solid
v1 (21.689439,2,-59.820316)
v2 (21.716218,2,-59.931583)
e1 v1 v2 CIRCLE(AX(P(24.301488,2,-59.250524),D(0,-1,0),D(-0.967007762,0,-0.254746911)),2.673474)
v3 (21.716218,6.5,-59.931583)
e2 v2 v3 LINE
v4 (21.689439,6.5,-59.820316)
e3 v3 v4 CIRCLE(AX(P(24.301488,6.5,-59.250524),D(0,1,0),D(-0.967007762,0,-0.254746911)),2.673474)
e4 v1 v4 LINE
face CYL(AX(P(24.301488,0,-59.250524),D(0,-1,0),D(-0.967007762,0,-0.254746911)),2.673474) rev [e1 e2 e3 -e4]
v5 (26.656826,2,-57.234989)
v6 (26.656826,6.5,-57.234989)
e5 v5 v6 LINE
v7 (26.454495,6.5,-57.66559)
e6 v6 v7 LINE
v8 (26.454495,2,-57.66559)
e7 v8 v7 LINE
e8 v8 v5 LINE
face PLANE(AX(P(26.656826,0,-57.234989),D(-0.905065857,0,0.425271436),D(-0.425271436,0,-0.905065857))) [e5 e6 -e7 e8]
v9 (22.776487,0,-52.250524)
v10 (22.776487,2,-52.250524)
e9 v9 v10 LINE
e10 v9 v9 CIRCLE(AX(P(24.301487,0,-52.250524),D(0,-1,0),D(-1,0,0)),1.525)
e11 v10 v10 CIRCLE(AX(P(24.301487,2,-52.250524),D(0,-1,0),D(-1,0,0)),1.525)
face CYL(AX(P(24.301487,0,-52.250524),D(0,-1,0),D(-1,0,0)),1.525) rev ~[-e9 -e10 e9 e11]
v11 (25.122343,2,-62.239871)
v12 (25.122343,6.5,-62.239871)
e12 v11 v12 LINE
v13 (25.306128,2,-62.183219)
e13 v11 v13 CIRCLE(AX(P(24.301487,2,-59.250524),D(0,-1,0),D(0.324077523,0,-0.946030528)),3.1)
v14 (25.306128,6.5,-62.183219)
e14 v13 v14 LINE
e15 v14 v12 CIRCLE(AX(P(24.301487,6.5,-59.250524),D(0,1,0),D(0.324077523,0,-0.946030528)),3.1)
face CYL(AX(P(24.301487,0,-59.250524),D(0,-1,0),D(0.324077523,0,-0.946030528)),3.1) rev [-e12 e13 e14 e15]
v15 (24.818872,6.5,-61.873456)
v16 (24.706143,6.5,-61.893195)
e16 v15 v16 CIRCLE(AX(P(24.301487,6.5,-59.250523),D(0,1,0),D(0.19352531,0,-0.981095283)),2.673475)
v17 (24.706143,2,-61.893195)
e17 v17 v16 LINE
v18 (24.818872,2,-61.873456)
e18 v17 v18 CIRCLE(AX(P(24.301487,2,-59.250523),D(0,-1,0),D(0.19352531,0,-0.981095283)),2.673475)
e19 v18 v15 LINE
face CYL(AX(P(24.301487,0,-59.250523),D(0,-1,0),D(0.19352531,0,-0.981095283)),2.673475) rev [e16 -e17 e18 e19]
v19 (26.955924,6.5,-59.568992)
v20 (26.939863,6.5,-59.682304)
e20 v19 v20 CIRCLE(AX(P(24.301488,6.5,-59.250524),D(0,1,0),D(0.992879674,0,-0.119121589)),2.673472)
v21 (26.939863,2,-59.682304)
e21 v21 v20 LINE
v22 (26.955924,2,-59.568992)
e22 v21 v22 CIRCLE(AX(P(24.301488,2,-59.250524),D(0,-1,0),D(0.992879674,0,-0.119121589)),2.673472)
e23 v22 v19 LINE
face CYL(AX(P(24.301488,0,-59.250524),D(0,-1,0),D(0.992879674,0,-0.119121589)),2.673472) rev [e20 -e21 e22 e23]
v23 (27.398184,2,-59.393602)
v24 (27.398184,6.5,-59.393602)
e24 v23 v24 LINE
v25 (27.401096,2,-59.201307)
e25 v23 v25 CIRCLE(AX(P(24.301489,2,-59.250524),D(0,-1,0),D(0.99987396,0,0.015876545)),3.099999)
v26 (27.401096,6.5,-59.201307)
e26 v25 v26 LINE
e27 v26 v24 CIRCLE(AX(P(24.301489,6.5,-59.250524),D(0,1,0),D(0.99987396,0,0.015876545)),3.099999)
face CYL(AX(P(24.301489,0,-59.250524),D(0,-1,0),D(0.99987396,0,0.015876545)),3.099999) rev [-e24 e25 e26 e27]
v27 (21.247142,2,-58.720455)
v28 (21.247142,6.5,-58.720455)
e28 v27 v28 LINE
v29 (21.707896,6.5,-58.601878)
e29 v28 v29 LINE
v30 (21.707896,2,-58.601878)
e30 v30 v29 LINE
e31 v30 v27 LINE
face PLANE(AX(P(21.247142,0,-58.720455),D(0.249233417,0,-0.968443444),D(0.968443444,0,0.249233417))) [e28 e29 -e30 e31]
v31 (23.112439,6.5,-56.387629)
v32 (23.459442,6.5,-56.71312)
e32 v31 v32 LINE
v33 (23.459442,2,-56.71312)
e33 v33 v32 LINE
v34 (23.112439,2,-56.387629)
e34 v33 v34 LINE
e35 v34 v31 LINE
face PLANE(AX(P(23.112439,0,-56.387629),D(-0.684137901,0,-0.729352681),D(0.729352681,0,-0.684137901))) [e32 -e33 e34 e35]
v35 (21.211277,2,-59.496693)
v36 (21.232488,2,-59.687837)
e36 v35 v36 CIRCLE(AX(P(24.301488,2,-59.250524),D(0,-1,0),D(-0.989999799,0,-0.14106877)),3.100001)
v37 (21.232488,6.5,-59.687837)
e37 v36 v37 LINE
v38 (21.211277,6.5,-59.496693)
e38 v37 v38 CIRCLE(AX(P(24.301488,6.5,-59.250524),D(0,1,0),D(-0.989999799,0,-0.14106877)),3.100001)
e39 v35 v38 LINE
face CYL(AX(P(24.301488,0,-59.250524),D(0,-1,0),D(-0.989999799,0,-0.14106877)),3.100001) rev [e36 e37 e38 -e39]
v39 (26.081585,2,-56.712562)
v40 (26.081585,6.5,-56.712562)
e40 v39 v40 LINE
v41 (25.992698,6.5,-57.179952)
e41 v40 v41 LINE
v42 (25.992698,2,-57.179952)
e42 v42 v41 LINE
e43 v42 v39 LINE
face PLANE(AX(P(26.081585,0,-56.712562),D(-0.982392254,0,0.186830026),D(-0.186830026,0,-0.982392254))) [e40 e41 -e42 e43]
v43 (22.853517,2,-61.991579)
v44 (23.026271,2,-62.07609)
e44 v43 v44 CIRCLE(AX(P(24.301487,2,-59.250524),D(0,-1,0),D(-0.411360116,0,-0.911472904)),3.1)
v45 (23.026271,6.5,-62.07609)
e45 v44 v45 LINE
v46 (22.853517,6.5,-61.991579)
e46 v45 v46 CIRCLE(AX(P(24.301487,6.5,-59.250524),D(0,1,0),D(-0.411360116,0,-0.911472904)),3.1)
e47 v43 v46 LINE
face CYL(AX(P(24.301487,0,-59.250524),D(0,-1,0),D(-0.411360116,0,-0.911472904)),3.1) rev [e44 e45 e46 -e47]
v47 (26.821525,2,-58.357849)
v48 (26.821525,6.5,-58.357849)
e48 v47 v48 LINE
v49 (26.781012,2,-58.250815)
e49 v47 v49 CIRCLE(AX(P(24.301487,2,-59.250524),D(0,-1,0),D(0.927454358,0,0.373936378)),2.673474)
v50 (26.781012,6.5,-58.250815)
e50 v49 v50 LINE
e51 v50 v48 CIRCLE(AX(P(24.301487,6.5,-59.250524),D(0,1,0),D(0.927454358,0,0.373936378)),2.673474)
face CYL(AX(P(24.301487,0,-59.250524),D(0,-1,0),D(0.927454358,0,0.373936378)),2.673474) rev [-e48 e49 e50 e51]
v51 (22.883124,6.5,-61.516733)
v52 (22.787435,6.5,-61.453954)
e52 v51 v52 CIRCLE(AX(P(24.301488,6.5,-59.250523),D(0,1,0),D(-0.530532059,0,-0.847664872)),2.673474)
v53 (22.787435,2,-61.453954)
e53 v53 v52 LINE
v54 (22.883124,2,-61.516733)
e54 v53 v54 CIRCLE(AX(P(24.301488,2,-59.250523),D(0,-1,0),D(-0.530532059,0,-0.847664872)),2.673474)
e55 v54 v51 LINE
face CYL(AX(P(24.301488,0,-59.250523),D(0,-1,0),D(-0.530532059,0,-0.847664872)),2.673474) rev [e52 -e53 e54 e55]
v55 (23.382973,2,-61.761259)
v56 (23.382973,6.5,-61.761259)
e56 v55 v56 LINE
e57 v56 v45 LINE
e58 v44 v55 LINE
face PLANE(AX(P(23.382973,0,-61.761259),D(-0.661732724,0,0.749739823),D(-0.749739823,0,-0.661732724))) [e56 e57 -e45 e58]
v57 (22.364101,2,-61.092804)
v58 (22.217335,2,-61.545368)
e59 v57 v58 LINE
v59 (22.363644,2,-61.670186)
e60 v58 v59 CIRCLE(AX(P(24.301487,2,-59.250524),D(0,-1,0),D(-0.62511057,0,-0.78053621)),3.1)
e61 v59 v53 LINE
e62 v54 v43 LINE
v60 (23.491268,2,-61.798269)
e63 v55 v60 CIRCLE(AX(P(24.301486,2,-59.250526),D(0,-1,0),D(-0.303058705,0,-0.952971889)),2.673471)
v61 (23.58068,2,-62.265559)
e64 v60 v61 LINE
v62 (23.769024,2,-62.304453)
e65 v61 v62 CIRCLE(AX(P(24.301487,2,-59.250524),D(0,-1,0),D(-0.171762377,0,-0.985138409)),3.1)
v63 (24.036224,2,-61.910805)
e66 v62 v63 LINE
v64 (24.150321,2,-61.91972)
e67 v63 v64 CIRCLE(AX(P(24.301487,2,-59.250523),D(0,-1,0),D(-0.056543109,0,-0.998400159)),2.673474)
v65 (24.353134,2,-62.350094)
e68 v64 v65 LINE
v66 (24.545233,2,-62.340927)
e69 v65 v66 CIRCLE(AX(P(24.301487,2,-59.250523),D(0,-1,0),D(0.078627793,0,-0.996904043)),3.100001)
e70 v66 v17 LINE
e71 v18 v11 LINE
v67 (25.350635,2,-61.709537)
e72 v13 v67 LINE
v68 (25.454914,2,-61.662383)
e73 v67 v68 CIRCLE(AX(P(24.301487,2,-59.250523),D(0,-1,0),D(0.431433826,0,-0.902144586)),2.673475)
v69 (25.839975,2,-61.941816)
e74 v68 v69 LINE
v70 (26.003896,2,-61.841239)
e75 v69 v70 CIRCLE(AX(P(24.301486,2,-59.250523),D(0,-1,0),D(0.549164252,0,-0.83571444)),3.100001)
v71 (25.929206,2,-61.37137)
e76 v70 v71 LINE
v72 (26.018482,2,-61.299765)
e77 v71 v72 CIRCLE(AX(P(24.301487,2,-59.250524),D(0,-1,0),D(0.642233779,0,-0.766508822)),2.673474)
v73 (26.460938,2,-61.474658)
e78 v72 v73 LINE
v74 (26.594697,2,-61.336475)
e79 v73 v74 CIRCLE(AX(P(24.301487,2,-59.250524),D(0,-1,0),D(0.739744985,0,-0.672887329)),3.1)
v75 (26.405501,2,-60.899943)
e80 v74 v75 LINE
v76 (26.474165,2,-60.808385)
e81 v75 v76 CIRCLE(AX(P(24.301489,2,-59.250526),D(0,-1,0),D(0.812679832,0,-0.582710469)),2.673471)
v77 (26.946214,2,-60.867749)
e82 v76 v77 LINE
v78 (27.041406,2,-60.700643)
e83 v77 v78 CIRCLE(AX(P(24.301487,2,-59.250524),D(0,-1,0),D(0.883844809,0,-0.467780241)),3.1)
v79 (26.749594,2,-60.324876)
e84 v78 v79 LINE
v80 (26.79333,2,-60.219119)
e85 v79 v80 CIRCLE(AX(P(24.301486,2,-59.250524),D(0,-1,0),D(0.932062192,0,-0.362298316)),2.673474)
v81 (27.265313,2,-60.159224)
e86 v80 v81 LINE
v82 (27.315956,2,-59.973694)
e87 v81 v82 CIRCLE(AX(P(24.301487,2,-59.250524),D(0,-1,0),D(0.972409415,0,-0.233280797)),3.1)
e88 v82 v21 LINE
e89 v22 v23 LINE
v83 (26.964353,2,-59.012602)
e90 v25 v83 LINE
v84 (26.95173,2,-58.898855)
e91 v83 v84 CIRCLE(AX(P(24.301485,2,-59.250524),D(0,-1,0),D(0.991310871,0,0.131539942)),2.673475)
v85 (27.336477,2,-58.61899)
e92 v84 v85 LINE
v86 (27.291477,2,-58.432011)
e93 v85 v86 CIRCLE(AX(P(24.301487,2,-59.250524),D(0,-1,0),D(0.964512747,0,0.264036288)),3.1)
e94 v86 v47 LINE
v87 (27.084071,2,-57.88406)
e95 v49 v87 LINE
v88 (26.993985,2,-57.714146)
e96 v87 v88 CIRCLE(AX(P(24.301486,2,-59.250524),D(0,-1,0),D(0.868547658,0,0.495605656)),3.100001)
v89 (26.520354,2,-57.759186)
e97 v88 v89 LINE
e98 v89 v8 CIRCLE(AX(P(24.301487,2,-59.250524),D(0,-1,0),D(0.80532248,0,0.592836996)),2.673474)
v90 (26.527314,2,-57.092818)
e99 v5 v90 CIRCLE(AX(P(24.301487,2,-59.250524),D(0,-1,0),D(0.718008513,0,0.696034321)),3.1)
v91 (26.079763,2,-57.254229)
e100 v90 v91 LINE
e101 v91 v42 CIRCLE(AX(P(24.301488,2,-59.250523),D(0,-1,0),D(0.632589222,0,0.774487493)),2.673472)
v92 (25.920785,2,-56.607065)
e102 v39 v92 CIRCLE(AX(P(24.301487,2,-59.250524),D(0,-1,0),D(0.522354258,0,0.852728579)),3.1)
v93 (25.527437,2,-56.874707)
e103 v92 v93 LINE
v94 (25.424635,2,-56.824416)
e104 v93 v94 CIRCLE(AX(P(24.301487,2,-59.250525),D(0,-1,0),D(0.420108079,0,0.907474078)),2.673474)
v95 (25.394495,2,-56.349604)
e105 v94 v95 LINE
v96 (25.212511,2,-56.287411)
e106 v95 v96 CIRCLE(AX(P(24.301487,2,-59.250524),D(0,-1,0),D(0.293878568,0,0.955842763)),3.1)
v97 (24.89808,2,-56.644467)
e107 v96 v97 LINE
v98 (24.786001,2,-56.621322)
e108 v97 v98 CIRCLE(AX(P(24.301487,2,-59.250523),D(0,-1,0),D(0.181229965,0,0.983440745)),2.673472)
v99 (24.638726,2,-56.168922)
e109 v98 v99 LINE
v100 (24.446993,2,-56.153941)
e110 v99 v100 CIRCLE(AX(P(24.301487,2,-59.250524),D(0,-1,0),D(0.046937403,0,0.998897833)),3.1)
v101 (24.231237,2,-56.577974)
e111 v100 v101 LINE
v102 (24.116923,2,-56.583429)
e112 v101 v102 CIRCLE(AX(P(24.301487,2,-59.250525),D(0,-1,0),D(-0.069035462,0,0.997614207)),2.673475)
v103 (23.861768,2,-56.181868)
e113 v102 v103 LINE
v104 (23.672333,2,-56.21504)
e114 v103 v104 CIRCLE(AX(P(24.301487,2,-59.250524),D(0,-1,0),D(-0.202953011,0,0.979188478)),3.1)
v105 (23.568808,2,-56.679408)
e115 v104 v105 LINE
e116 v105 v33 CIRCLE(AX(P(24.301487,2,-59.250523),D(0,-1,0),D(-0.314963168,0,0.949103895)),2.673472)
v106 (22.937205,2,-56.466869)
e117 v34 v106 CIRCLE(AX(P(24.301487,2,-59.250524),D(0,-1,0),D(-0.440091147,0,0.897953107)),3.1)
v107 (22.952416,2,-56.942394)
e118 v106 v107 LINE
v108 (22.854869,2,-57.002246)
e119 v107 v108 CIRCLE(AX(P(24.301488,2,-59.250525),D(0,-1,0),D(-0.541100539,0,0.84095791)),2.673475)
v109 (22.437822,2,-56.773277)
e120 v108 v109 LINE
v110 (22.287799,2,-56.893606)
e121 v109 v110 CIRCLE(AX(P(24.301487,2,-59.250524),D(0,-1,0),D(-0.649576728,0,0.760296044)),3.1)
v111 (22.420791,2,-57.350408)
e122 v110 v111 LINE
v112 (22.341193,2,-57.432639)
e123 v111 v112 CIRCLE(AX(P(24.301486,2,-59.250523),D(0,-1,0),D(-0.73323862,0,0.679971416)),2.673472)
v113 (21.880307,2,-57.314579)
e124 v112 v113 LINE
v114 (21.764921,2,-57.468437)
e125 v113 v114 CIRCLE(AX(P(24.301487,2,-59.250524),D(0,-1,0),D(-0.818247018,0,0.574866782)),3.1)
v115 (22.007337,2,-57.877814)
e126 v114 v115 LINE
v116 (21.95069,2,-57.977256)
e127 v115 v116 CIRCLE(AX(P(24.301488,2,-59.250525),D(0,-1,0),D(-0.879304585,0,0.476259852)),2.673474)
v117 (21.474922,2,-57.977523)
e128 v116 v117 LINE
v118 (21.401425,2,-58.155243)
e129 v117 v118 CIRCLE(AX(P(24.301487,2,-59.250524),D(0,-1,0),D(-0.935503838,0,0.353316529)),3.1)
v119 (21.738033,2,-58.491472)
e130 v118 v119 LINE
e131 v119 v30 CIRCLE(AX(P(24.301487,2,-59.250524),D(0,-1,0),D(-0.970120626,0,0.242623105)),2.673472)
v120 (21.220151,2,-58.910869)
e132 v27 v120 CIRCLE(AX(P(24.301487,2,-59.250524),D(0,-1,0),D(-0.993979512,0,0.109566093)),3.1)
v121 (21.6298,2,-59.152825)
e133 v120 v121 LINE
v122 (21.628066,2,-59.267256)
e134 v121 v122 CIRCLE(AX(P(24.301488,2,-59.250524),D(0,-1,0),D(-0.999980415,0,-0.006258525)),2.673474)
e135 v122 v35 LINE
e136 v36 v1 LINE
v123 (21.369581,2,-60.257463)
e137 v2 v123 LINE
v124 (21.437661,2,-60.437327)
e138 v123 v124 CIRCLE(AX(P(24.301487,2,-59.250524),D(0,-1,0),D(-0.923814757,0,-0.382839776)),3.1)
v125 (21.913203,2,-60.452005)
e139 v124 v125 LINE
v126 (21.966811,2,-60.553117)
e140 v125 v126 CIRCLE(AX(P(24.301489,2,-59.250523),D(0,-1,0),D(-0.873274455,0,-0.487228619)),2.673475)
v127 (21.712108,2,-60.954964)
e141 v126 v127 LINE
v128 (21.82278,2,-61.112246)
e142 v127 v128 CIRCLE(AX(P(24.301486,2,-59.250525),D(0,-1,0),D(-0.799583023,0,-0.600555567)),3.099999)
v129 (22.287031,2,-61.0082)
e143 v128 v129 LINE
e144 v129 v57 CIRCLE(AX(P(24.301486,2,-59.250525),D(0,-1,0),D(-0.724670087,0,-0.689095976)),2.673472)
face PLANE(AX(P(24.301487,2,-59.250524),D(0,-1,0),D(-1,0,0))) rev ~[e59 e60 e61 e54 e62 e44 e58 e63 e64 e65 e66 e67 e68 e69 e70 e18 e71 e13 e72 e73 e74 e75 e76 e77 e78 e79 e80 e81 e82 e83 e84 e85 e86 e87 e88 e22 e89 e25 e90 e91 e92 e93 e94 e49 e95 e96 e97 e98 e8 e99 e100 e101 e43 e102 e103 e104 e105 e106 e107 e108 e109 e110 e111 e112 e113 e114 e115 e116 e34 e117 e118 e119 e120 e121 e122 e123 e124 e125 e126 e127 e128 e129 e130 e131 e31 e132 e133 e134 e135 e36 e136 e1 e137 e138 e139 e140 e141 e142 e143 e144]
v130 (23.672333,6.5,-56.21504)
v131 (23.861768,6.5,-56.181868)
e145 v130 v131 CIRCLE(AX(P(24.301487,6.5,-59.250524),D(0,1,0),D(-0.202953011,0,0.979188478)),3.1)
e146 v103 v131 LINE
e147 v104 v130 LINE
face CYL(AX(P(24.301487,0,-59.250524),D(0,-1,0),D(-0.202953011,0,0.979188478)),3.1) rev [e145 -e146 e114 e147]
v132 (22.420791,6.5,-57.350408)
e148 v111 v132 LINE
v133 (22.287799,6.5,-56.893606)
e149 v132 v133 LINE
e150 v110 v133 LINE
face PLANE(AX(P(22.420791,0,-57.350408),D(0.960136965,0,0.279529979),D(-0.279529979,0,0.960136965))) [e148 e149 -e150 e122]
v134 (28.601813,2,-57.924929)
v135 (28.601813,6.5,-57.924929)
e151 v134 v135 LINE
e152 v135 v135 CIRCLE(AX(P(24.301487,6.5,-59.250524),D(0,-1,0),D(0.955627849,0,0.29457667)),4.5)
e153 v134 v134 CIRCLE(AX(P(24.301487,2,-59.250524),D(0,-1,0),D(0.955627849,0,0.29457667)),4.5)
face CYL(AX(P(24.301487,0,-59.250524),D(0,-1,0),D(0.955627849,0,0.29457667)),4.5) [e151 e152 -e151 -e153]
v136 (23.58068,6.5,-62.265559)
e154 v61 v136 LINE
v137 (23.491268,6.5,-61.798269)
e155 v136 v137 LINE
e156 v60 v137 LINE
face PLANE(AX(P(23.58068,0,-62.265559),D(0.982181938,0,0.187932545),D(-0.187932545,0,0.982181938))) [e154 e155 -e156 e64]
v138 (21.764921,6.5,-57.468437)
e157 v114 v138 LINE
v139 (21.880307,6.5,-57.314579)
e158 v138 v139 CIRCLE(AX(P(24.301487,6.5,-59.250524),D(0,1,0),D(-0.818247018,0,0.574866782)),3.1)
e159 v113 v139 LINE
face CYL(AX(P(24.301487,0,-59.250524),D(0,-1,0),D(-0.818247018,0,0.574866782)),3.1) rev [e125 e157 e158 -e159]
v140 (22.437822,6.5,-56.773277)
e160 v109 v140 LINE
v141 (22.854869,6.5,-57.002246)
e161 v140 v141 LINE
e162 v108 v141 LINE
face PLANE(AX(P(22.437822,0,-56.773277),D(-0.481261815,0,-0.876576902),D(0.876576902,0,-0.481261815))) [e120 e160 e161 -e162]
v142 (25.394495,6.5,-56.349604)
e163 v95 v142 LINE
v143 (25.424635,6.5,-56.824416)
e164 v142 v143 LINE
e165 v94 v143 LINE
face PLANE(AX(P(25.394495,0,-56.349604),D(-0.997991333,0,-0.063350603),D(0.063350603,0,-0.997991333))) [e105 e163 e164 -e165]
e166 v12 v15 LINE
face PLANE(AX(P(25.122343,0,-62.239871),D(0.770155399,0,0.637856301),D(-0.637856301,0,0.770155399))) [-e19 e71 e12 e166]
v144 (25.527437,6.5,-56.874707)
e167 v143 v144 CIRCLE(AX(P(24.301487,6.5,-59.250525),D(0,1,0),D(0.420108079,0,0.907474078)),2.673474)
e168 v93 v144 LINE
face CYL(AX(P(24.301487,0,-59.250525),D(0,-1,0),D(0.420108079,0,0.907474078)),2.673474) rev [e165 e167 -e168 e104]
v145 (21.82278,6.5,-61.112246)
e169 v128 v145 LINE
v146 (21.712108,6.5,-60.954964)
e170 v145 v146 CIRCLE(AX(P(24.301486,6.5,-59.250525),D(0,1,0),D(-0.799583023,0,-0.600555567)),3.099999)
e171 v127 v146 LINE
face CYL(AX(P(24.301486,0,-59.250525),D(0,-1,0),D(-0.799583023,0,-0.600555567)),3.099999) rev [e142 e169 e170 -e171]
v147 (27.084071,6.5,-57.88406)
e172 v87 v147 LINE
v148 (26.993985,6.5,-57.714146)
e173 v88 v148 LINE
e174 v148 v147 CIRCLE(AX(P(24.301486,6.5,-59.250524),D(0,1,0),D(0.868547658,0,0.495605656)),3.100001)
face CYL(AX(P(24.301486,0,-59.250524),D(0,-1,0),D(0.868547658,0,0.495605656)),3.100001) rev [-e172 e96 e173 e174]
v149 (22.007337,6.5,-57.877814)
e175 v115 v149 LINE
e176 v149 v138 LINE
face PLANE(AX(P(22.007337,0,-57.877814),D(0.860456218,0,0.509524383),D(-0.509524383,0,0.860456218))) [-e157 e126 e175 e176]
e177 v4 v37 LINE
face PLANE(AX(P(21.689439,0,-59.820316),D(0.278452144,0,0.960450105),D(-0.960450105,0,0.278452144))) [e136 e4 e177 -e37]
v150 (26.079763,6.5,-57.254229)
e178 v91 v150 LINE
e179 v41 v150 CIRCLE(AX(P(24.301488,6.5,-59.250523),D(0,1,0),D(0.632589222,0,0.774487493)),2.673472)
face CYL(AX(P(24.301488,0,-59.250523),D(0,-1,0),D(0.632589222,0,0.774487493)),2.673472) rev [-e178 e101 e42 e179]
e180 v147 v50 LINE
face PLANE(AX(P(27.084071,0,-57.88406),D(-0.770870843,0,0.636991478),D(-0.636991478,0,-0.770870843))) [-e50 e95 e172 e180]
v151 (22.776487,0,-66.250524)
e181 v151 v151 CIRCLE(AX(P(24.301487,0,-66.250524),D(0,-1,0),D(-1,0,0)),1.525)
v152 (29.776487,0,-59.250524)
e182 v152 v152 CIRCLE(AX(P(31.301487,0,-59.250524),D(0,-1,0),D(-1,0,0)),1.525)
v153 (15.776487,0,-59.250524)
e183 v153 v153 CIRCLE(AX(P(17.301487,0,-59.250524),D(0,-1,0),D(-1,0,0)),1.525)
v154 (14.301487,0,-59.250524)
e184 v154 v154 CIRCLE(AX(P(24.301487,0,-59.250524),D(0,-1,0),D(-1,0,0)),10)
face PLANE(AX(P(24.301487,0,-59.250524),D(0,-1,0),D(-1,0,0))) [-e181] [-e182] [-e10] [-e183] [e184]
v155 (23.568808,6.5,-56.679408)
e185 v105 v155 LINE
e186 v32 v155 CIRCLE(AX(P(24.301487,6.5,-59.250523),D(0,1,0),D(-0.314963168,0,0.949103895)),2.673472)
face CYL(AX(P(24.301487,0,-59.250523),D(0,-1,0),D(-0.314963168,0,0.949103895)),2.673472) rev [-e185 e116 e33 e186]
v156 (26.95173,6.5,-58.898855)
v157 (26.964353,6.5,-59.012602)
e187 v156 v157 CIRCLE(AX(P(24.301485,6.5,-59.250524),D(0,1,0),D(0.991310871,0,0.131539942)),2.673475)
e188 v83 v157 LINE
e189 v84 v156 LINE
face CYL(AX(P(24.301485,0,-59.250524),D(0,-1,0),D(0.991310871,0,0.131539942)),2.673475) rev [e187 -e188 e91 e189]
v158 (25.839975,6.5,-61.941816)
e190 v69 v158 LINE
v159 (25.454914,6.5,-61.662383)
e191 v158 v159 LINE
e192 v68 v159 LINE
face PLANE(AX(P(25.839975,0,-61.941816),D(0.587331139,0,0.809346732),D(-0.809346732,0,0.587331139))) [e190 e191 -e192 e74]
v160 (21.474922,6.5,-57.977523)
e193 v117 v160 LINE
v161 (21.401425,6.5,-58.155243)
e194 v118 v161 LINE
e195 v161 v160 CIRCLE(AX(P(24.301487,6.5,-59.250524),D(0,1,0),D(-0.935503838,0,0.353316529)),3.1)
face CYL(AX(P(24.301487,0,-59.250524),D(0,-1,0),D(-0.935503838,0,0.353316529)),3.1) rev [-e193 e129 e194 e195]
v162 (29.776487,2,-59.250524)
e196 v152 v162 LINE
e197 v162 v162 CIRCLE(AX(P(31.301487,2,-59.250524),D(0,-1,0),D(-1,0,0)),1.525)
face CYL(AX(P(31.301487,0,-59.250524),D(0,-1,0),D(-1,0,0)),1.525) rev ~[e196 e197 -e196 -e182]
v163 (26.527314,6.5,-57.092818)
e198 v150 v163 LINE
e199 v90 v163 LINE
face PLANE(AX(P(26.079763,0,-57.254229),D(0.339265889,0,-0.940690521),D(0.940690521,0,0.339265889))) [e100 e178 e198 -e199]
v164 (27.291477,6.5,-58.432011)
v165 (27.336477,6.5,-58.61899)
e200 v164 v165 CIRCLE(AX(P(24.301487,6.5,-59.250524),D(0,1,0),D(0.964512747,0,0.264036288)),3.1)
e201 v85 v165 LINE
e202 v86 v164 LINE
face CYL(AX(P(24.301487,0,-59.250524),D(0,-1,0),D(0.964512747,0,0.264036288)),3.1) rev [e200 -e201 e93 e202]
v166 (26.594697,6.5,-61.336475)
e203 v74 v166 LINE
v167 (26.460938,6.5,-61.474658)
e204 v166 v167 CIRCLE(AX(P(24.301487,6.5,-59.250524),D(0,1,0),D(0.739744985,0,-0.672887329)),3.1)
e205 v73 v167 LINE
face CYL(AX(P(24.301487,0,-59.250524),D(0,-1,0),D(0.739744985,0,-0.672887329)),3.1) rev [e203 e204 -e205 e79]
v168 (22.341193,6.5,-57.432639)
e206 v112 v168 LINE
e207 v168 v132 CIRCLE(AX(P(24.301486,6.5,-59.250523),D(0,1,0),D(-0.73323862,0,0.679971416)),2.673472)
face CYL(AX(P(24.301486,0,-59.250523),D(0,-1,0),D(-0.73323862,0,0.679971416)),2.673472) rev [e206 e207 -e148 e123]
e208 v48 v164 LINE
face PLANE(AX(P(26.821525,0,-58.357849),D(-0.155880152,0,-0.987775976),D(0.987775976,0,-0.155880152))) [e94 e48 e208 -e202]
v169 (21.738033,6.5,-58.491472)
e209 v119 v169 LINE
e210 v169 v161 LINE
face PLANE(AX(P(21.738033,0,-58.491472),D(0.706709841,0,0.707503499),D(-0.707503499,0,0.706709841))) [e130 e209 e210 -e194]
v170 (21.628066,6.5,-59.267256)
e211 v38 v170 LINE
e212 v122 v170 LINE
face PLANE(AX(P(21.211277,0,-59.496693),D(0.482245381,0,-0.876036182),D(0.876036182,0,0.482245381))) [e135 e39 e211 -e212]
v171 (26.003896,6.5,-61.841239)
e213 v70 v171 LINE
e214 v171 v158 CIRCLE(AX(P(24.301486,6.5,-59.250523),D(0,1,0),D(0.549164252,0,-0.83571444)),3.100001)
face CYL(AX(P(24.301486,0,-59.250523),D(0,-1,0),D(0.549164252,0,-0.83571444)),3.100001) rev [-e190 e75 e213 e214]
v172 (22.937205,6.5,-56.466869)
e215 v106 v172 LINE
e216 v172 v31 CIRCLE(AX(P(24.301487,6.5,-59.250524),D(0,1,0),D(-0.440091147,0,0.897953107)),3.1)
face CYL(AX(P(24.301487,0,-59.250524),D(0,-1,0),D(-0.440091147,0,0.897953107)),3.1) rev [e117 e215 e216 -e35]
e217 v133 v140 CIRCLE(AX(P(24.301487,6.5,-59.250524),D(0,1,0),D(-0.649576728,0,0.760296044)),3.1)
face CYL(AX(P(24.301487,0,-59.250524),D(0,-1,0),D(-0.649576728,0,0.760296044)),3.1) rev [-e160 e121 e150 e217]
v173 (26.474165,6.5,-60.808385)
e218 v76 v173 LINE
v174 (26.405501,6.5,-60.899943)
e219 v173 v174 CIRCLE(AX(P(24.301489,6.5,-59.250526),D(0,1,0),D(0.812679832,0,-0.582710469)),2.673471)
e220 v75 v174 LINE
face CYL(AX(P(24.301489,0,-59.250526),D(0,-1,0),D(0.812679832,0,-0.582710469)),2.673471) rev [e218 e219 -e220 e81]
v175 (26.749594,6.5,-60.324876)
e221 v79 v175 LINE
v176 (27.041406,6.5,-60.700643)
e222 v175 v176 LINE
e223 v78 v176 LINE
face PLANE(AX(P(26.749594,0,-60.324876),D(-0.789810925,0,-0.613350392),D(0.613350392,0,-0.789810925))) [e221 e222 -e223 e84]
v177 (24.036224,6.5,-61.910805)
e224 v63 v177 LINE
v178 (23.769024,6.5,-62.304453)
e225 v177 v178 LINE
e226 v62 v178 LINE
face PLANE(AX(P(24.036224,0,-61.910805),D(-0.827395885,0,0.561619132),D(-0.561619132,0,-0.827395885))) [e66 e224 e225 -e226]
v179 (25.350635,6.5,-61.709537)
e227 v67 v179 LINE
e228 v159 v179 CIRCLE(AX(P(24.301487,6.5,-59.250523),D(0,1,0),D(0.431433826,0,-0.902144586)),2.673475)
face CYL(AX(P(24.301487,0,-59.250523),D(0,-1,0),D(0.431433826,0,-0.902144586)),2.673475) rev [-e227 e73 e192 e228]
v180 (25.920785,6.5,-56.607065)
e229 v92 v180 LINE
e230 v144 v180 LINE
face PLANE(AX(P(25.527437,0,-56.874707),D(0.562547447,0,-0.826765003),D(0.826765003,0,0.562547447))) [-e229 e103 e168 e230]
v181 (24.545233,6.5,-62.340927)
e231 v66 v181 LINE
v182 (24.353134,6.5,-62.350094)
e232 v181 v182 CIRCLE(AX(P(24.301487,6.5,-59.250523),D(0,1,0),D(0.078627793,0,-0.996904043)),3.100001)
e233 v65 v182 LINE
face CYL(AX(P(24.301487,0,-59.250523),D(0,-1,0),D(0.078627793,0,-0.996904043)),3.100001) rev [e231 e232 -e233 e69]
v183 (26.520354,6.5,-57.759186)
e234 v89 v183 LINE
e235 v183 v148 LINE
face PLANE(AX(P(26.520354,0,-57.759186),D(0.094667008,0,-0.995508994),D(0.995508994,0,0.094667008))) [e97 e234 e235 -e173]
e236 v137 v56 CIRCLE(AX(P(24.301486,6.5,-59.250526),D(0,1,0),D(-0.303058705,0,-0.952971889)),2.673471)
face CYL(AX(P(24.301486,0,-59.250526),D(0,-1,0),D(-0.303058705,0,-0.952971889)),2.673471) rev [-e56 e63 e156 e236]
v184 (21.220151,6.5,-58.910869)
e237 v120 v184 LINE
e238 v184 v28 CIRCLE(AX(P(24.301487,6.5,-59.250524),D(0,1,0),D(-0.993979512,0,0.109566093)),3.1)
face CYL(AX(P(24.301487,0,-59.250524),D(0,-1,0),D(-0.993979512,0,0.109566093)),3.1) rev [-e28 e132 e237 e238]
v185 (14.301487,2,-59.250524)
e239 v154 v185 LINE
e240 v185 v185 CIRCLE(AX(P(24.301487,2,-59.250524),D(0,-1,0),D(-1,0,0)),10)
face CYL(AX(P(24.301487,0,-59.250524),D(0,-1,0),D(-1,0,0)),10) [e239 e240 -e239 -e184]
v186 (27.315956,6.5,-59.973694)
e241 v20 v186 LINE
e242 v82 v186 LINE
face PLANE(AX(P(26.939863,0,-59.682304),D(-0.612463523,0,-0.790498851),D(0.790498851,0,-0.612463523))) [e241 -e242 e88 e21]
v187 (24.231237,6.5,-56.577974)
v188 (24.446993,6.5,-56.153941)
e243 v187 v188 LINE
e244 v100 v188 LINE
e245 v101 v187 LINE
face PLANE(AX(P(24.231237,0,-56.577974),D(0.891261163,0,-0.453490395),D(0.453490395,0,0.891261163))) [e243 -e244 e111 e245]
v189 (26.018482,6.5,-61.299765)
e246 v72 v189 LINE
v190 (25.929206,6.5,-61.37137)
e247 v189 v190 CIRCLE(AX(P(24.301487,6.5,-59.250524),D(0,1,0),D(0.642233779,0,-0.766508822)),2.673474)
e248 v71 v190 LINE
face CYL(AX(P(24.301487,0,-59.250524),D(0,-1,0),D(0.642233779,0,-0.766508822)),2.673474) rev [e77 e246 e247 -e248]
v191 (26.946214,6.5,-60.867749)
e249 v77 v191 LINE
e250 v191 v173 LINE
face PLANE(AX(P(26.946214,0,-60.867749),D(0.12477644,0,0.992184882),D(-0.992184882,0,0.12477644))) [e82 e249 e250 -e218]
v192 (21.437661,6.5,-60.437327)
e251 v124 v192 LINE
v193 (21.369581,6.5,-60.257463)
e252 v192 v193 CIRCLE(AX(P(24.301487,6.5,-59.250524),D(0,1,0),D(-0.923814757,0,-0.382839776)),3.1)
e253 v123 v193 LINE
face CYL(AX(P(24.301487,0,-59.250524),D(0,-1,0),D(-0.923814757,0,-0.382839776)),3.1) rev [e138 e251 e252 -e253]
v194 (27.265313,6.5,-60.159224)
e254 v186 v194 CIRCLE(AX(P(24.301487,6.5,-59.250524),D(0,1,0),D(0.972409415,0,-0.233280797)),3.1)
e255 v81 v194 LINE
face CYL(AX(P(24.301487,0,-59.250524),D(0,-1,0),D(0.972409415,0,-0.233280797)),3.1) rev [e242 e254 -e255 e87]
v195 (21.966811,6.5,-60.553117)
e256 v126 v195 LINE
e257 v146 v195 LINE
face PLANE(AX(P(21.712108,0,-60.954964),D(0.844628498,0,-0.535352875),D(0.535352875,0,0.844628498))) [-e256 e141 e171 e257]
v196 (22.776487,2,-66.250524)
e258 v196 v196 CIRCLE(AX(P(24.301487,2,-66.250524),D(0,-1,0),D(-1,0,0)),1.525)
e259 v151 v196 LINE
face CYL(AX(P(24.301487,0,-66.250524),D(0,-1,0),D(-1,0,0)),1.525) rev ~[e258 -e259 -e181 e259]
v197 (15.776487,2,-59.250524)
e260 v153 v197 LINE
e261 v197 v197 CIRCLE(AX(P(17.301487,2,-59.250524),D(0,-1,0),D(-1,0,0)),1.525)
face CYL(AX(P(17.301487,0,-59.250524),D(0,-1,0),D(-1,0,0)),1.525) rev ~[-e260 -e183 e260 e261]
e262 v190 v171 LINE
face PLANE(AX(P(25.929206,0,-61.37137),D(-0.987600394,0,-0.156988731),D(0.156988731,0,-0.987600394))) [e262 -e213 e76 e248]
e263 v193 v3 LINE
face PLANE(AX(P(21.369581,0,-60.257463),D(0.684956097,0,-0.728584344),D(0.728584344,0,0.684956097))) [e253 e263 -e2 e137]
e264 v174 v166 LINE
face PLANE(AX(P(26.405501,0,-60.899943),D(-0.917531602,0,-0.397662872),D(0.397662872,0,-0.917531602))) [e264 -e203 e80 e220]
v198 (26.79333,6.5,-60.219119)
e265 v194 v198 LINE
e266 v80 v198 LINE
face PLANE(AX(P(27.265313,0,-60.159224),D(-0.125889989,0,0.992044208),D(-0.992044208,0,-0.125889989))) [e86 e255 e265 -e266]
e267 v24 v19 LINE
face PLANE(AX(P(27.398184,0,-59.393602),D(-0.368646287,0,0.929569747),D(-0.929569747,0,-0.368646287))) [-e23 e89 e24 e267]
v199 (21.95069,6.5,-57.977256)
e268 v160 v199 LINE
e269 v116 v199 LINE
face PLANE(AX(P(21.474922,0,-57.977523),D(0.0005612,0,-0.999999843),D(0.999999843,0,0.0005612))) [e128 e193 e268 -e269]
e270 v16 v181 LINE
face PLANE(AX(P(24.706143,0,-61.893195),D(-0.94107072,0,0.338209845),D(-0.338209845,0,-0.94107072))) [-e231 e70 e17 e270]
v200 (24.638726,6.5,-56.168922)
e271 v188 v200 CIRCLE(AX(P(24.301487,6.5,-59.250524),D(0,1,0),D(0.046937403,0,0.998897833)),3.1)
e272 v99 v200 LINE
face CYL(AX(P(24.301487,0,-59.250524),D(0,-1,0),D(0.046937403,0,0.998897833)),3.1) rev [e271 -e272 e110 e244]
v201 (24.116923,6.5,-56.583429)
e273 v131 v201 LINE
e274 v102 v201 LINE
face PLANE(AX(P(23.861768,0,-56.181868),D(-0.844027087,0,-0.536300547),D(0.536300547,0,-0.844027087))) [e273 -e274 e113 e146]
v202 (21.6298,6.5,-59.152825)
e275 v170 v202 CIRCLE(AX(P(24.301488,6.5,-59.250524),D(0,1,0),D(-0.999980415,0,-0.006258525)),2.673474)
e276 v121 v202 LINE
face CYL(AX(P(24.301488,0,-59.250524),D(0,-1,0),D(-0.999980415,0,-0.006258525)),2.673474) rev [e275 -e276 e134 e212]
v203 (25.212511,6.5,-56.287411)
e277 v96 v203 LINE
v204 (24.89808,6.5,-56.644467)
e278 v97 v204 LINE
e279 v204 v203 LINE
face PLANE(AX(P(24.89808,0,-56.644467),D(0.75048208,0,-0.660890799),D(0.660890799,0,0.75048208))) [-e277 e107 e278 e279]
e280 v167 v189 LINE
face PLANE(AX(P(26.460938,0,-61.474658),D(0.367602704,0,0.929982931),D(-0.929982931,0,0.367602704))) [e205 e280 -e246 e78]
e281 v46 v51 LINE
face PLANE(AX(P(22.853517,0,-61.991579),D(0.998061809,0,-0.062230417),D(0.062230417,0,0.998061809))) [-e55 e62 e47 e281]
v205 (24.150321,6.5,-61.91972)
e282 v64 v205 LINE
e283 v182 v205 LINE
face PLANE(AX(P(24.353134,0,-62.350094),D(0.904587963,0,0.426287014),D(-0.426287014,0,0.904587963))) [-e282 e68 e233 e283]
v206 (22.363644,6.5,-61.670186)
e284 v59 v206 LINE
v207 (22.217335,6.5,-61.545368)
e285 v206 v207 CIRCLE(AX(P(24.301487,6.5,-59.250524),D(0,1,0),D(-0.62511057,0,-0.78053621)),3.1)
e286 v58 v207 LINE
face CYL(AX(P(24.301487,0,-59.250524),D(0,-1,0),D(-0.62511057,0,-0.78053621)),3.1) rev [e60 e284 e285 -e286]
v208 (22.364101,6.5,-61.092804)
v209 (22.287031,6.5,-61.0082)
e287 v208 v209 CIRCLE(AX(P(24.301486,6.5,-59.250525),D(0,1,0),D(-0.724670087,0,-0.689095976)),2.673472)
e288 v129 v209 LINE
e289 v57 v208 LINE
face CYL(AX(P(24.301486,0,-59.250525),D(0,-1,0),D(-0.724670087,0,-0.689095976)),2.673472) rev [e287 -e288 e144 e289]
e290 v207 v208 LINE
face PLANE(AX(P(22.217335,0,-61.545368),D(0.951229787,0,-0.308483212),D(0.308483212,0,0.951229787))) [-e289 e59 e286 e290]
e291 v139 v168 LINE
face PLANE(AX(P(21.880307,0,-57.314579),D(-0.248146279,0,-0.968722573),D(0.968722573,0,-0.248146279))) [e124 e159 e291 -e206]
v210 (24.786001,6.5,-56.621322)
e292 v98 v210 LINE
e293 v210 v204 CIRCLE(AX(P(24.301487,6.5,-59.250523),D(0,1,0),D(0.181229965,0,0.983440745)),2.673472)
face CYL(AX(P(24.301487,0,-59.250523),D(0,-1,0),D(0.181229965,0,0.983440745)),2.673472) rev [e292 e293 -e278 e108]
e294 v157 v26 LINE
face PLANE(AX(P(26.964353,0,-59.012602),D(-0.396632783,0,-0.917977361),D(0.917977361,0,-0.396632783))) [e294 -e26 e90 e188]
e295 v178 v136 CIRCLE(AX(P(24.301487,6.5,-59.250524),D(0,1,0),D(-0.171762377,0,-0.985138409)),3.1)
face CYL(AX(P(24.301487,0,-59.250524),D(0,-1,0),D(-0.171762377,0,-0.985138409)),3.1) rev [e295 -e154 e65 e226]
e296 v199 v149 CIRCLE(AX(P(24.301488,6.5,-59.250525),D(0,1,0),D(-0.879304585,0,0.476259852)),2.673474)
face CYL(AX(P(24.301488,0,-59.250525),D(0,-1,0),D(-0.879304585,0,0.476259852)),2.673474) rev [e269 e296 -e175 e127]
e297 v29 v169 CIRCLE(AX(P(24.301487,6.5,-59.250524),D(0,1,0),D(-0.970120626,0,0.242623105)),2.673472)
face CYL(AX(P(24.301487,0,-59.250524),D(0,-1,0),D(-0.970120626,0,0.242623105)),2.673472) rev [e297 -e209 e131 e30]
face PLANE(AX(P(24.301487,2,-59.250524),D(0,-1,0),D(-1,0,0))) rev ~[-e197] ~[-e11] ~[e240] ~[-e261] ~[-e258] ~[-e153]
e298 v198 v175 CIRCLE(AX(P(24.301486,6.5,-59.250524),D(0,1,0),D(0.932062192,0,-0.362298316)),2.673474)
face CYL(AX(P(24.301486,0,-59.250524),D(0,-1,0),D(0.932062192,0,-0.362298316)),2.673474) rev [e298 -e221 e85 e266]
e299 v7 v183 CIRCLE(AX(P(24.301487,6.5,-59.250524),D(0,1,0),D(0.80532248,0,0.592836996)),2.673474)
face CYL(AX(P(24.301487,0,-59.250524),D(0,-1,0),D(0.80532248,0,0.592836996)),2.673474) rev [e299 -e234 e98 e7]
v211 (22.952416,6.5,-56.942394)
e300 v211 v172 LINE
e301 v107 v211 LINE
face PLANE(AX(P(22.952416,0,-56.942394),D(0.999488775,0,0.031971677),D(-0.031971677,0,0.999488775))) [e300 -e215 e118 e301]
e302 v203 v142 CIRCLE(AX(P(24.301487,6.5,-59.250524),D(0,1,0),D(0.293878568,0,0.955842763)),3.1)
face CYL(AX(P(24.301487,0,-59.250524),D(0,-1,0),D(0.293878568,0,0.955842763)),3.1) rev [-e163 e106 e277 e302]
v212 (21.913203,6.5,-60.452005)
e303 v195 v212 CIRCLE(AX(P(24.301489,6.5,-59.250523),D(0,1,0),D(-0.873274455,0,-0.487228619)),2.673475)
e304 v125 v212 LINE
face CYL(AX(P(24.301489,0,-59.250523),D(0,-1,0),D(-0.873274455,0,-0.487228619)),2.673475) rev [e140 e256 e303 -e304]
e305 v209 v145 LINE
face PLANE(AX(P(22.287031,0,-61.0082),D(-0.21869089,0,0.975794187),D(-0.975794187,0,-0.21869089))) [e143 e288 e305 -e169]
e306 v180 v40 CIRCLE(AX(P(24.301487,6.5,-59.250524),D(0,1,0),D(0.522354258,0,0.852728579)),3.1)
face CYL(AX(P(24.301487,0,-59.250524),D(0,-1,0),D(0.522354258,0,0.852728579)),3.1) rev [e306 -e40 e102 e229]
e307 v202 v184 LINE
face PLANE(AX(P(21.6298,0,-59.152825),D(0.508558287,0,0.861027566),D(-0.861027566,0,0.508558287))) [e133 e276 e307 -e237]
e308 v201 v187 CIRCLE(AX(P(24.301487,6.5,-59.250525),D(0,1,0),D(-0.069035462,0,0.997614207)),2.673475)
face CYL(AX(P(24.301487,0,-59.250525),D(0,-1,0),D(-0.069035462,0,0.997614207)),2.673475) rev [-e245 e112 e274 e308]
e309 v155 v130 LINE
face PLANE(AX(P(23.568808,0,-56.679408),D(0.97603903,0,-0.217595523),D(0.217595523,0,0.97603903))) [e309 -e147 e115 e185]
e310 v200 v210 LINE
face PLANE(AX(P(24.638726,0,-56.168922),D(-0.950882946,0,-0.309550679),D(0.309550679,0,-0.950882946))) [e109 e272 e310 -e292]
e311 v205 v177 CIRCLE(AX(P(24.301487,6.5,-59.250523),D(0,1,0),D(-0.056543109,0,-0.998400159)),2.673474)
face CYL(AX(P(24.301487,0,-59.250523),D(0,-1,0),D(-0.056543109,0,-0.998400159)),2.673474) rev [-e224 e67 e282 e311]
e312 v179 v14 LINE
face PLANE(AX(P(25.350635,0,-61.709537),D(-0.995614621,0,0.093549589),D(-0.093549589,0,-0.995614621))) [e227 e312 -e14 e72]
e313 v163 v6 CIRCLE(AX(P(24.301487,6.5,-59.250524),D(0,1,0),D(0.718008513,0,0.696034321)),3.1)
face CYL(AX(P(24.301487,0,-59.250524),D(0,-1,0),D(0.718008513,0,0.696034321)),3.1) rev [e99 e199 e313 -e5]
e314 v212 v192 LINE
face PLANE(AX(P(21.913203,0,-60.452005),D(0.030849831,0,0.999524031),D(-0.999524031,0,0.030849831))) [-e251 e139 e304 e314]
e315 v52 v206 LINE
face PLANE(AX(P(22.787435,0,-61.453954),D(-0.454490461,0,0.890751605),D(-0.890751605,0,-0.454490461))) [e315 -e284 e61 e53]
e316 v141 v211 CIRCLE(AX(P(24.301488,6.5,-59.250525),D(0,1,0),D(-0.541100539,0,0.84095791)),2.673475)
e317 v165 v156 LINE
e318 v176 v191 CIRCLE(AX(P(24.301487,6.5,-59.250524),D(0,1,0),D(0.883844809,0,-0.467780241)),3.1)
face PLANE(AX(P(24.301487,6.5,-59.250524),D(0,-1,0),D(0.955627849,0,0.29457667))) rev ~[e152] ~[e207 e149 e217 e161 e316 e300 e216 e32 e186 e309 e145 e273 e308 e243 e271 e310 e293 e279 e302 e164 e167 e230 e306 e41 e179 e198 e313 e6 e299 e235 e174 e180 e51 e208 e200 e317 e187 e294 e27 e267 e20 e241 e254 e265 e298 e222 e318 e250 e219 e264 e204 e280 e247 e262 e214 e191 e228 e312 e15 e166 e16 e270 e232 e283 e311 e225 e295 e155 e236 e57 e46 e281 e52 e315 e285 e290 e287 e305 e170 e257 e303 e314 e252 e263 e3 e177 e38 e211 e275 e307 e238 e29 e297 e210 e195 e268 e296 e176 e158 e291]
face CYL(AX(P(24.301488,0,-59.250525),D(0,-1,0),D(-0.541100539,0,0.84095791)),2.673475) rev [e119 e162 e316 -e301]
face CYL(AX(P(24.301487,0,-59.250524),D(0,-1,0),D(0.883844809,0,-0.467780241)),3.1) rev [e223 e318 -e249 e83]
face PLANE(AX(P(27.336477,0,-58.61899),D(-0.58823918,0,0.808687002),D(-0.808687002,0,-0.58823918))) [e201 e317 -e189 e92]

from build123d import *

# Parameters (mm, degrees)
SKETCH1_R           = 4.5
BOSS_EXTRUDE1_DEPTH = 6.5
SKETCH2_R           = 10
BOSS_EXTRUDE2_DEPTH = 2
SKETCH3_R           = 1.525
CUT_EXTRUDE1_DEPTH  = 7.5


with BuildPart() as part:
    # Sketch1 → Boss-Extrude1 (new body)
    with BuildSketch(Plane(origin=(24.301487189, 0, -59.250523978), x_dir=(0.955627849, 0, 0.29457667), z_dir=(0, -1, 0))):
        Circle(SKETCH1_R)
        with BuildLine():
            Line((-1.743463309, 2.563266606), (-1.337804671, 2.314678673))
            ThreePointArc((-1.337804671, 2.314678673), (-1.287955514, 2.342782383), (-1.237516253, 2.369812698))
            Line((-1.237516253, 2.369812698), (-1.230043219, 2.845521688))
            ThreePointArc((-1.230043219, 2.845521688), (-1.141186113, 2.882307106), (-1.05123072, 2.916318565))
            Line((-1.05123072, 2.916318565), (-0.7201379, 2.574657279))
            ThreePointArc((-0.7201379, 2.574657279), (-0.664865737, 2.589481077), (-0.609288952, 2.603118451))
            Line((-0.609288952, 2.603118451), (-0.483746682, 3.062023701))
            ThreePointArc((-0.483746682, 3.062023701), (-0.388533024, 3.075555574), (-0.292945439, 3.086127504))
            Line((-0.292945439, 3.086127504), (-0.057222215, 2.672860699))
            ThreePointArc((-0.057222215, 2.672860699), (0, 2.673473153), (0.057222215, 2.672860699))
            Line((0.057222215, 2.672860699), (0.292945439, 3.086127504))
            ThreePointArc((0.292945439, 3.086127504), (0.388533024, 3.075555574), (0.483746682, 3.062023701))
            Line((0.483746682, 3.062023701), (0.609288952, 2.603118451))
            ThreePointArc((0.609288952, 2.603118451), (0.664865737, 2.589481077), (0.7201379, 2.574657279))
            Line((0.7201379, 2.574657279), (1.05123072, 2.916318565))
            ThreePointArc((1.05123072, 2.916318565), (1.141186113, 2.882307106), (1.230043219, 2.845521688))
            Line((1.230043219, 2.845521688), (1.237516253, 2.369812698))
            ThreePointArc((1.237516253, 2.369812698), (1.287955514, 2.342782383), (1.337804671, 2.314678673))
            Line((1.337804671, 2.314678673), (1.743463309, 2.563266606))
            ThreePointArc((1.743463309, 2.563266606), (1.822134282, 2.507952683), (1.899051617, 2.450225083))
            Line((1.899051617, 2.450225083), (1.787985857, 1.987602897))
            ThreePointArc((1.787985857, 1.987602897), (1.830118309, 1.948878055), (1.871412256, 1.909260293))
            Line((1.871412256, 1.909260293), (2.326147686, 2.049155178))
            ThreePointArc((2.326147686, 2.049155178), (2.388591053, 1.976014368), (2.448735618, 1.900971824))
            Line((2.448735618, 1.900971824), (2.226109733, 1.480504696))
            ThreePointArc((2.226109733, 1.480504696), (2.257288041, 1.432518551), (2.287432125, 1.383876068))
            Line((2.287432125, 1.383876068), (2.762671649, 1.406287795))
            ThreePointArc((2.762671649, 1.406287795), (2.804963863, 1.319915804), (2.844556554, 1.232273514))
            Line((2.844556554, 1.232273514), (2.524358948, 0.88038094))
            ThreePointArc((2.524358948, 0.88038094), (2.542624063, 0.826148638), (2.559724222, 0.771537819))
            Line((2.559724222, 0.771537819), (3.025606792, 0.675058177))
            ThreePointArc((3.025606792, 0.675058177), (3.045090477, 0.580882075), (3.06164354, 0.486146927))
            Line((3.06164354, 0.486146927), (2.663993406, 0.224939612))
            ThreePointArc((2.663993406, 0.224939612), (2.668197664, 0.167868768), (2.671179432, 0.110721012))
            Line((2.671179432, 0.110721012), (3.098431932, -0.098587829))
            ThreePointArc((3.098431932, -0.098587829), (3.093882858, -0.194650611), (3.086356203, -0.290526059))
            Line((3.086356203, -0.290526059), (2.636239362, -0.444635499))
            ThreePointArc((2.636239362, -0.444635499), (2.626118593, -0.500958914), (2.614794614, -0.557052804))
            Line((2.614794614, -0.557052804), (2.9765712, -0.866039198))
            ThreePointArc((2.9765712, -0.866039198), (2.948275201, -0.957952683), (2.917141754, -1.048944224))
            Line((2.917141754, -1.048944224), (2.442840702, -1.086272527))
            ThreePointArc((2.442840702, -1.086272527), (2.419030833, -1.138309505), (2.394112634, -1.189824943))
            Line((2.394112634, -1.189824943), (2.667681551, -1.57907414))
            ThreePointArc((2.667681551, -1.57907414), (2.617416569, -1.661063064), (2.564632561, -1.741453366))
            Line((2.564632561, -1.741453366), (2.095949377, -1.659655056))
            ThreePointArc((2.095949377, -1.659655056), (2.059946468, -1.704135923), (2.022999752, -1.747836005))
            Line((2.022999752, -1.747836005), (2.19117166, -2.192890046))
            ThreePointArc((2.19117166, -2.192890046), (2.122096028, -2.259802745), (2.050978072, -2.324540589))
            Line((2.050978072, -2.324540589), (1.617361845, -2.128755355))
            ThreePointArc((1.617361845, -2.128755355), (1.571428092, -2.162885215), (1.524774356, -2.196024103))
            Line((1.524774356, -2.196024103), (1.576982395, -2.668918606))
            ThreePointArc((1.576982395, -2.668918606), (1.49343639, -2.716550708), (1.408453087, -2.761568377))
            Line((1.408453087, -2.761568377), (1.037149519, -2.464098126))
            ThreePointArc((1.037149519, -2.464098126), (0.984171108, -2.485732473), (0.930741779, -2.50622793))
            Line((0.930741779, -2.50622793), (0.863705526, -2.977249194))
            ThreePointArc((0.863705526, -2.977249194), (0.77093865, -3.002607799), (0.677429816, -3.025076668))
            Line((0.677429816, -3.025076668), (0.391769275, -2.644612549))
            ThreePointArc((0.391769275, -2.644612549), (0.335075035, -2.652392018), (0.278227274, -2.658956239))
            Line((0.278227274, -2.658956239), (0.096158863, -3.098508266))
            ThreePointArc((0.096158863, -3.098508266), (0, -3.1), (-0.096158863, -3.098508266))
            Line((-0.096158863, -3.098508266), (-0.278227274, -2.658956239))
            ThreePointArc((-0.278227274, -2.658956239), (-0.335075035, -2.652392018), (-0.391769275, -2.644612549))
            Line((-0.391769275, -2.644612549), (-0.677429816, -3.025076668))
            ThreePointArc((-0.677429816, -3.025076668), (-0.77093865, -3.002607799), (-0.863705526, -2.977249194))
            Line((-0.863705526, -2.977249194), (-0.930741779, -2.50622793))
            ThreePointArc((-0.930741779, -2.50622793), (-0.984171108, -2.485732473), (-1.037149519, -2.464098126))
            Line((-1.037149519, -2.464098126), (-1.408453087, -2.761568377))
            ThreePointArc((-1.408453087, -2.761568377), (-1.49343639, -2.716550708), (-1.576982395, -2.668918606))
            Line((-1.576982395, -2.668918606), (-1.524774356, -2.196024103))
            ThreePointArc((-1.524774356, -2.196024103), (-1.571428092, -2.162885215), (-1.617361845, -2.128755355))
            Line((-1.617361845, -2.128755355), (-2.050978072, -2.324540589))
            ThreePointArc((-2.050978072, -2.324540589), (-2.122096028, -2.259802745), (-2.19117166, -2.192890046))
            Line((-2.19117166, -2.192890046), (-2.022999752, -1.747836005))
            ThreePointArc((-2.022999752, -1.747836005), (-2.059946468, -1.704135923), (-2.095949377, -1.659655056))
            Line((-2.095949377, -1.659655056), (-2.564632561, -1.741453366))
            ThreePointArc((-2.564632561, -1.741453366), (-2.617416569, -1.661063064), (-2.667681551, -1.57907414))
            Line((-2.667681551, -1.57907414), (-2.394112634, -1.189824943))
            ThreePointArc((-2.394112634, -1.189824943), (-2.419030833, -1.138309505), (-2.442840702, -1.086272527))
            Line((-2.442840702, -1.086272527), (-2.917141754, -1.048944224))
            ThreePointArc((-2.917141754, -1.048944224), (-2.948275201, -0.957952683), (-2.9765712, -0.866039198))
            Line((-2.9765712, -0.866039198), (-2.614794614, -0.557052804))
            ThreePointArc((-2.614794614, -0.557052804), (-2.626118593, -0.500958914), (-2.636239362, -0.444635499))
            Line((-2.636239362, -0.444635499), (-3.086356203, -0.290526059))
            ThreePointArc((-3.086356203, -0.290526059), (-3.093882858, -0.194650611), (-3.098431932, -0.098587829))
            Line((-3.098431932, -0.098587829), (-2.671179432, 0.110721012))
            ThreePointArc((-2.671179432, 0.110721012), (-2.668197664, 0.167868768), (-2.663993406, 0.224939612))
            Line((-2.663993406, 0.224939612), (-3.06164354, 0.486146927))
            ThreePointArc((-3.06164354, 0.486146927), (-3.045090477, 0.580882075), (-3.025606792, 0.675058177))
            Line((-3.025606792, 0.675058177), (-2.559724222, 0.771537819))
            ThreePointArc((-2.559724222, 0.771537819), (-2.542624063, 0.826148638), (-2.524358948, 0.88038094))
            Line((-2.524358948, 0.88038094), (-2.844556554, 1.232273514))
            ThreePointArc((-2.844556554, 1.232273514), (-2.804963863, 1.319915804), (-2.762671649, 1.406287795))
            Line((-2.762671649, 1.406287795), (-2.287432125, 1.383876068))
            ThreePointArc((-2.287432125, 1.383876068), (-2.257288041, 1.432518551), (-2.226109733, 1.480504696))
            Line((-2.226109733, 1.480504696), (-2.448735618, 1.900971824))
            ThreePointArc((-2.448735618, 1.900971824), (-2.388591053, 1.976014368), (-2.326147686, 2.049155178))
            Line((-2.326147686, 2.049155178), (-1.871412256, 1.909260293))
            ThreePointArc((-1.871412256, 1.909260293), (-1.830118309, 1.948878055), (-1.787985857, 1.987602897))
            Line((-1.787985857, 1.987602897), (-1.899051617, 2.450225083))
            ThreePointArc((-1.899051617, 2.450225083), (-1.822134282, 2.507952683), (-1.743463309, 2.563266606))
        make_face(mode=Mode.SUBTRACT)
    extrude(amount=-BOSS_EXTRUDE1_DEPTH)

    # Sketch2 → Boss-Extrude2 (add)
    with BuildSketch(Plane(origin=(0, 0, 0), x_dir=(-1, 0, 0), z_dir=(0, -1, 0))):
        with Locations((-24.301487189, 59.250523978)):
            Circle(SKETCH2_R)
    extrude(amount=-BOSS_EXTRUDE2_DEPTH)

    # Sketch3 → Cut-Extrude1 (cut, through all)
    with BuildSketch(Plane(origin=(0, 0, 0), x_dir=(-1, 0, 0), z_dir=(0, -1, 0))):
        with Locations((-24.301487189, 66.250523978)):
            Circle(SKETCH3_R)
        with Locations((-17.301487189, 59.250523978)):
            Circle(SKETCH3_R)
        with Locations((-24.301487189, 52.250523978)):
            Circle(SKETCH3_R)
        with Locations((-31.301487189, 59.250523978)):
            Circle(SKETCH3_R)
    extrude(amount=-CUT_EXTRUDE1_DEPTH, mode=Mode.SUBTRACT)


solid = part.part
